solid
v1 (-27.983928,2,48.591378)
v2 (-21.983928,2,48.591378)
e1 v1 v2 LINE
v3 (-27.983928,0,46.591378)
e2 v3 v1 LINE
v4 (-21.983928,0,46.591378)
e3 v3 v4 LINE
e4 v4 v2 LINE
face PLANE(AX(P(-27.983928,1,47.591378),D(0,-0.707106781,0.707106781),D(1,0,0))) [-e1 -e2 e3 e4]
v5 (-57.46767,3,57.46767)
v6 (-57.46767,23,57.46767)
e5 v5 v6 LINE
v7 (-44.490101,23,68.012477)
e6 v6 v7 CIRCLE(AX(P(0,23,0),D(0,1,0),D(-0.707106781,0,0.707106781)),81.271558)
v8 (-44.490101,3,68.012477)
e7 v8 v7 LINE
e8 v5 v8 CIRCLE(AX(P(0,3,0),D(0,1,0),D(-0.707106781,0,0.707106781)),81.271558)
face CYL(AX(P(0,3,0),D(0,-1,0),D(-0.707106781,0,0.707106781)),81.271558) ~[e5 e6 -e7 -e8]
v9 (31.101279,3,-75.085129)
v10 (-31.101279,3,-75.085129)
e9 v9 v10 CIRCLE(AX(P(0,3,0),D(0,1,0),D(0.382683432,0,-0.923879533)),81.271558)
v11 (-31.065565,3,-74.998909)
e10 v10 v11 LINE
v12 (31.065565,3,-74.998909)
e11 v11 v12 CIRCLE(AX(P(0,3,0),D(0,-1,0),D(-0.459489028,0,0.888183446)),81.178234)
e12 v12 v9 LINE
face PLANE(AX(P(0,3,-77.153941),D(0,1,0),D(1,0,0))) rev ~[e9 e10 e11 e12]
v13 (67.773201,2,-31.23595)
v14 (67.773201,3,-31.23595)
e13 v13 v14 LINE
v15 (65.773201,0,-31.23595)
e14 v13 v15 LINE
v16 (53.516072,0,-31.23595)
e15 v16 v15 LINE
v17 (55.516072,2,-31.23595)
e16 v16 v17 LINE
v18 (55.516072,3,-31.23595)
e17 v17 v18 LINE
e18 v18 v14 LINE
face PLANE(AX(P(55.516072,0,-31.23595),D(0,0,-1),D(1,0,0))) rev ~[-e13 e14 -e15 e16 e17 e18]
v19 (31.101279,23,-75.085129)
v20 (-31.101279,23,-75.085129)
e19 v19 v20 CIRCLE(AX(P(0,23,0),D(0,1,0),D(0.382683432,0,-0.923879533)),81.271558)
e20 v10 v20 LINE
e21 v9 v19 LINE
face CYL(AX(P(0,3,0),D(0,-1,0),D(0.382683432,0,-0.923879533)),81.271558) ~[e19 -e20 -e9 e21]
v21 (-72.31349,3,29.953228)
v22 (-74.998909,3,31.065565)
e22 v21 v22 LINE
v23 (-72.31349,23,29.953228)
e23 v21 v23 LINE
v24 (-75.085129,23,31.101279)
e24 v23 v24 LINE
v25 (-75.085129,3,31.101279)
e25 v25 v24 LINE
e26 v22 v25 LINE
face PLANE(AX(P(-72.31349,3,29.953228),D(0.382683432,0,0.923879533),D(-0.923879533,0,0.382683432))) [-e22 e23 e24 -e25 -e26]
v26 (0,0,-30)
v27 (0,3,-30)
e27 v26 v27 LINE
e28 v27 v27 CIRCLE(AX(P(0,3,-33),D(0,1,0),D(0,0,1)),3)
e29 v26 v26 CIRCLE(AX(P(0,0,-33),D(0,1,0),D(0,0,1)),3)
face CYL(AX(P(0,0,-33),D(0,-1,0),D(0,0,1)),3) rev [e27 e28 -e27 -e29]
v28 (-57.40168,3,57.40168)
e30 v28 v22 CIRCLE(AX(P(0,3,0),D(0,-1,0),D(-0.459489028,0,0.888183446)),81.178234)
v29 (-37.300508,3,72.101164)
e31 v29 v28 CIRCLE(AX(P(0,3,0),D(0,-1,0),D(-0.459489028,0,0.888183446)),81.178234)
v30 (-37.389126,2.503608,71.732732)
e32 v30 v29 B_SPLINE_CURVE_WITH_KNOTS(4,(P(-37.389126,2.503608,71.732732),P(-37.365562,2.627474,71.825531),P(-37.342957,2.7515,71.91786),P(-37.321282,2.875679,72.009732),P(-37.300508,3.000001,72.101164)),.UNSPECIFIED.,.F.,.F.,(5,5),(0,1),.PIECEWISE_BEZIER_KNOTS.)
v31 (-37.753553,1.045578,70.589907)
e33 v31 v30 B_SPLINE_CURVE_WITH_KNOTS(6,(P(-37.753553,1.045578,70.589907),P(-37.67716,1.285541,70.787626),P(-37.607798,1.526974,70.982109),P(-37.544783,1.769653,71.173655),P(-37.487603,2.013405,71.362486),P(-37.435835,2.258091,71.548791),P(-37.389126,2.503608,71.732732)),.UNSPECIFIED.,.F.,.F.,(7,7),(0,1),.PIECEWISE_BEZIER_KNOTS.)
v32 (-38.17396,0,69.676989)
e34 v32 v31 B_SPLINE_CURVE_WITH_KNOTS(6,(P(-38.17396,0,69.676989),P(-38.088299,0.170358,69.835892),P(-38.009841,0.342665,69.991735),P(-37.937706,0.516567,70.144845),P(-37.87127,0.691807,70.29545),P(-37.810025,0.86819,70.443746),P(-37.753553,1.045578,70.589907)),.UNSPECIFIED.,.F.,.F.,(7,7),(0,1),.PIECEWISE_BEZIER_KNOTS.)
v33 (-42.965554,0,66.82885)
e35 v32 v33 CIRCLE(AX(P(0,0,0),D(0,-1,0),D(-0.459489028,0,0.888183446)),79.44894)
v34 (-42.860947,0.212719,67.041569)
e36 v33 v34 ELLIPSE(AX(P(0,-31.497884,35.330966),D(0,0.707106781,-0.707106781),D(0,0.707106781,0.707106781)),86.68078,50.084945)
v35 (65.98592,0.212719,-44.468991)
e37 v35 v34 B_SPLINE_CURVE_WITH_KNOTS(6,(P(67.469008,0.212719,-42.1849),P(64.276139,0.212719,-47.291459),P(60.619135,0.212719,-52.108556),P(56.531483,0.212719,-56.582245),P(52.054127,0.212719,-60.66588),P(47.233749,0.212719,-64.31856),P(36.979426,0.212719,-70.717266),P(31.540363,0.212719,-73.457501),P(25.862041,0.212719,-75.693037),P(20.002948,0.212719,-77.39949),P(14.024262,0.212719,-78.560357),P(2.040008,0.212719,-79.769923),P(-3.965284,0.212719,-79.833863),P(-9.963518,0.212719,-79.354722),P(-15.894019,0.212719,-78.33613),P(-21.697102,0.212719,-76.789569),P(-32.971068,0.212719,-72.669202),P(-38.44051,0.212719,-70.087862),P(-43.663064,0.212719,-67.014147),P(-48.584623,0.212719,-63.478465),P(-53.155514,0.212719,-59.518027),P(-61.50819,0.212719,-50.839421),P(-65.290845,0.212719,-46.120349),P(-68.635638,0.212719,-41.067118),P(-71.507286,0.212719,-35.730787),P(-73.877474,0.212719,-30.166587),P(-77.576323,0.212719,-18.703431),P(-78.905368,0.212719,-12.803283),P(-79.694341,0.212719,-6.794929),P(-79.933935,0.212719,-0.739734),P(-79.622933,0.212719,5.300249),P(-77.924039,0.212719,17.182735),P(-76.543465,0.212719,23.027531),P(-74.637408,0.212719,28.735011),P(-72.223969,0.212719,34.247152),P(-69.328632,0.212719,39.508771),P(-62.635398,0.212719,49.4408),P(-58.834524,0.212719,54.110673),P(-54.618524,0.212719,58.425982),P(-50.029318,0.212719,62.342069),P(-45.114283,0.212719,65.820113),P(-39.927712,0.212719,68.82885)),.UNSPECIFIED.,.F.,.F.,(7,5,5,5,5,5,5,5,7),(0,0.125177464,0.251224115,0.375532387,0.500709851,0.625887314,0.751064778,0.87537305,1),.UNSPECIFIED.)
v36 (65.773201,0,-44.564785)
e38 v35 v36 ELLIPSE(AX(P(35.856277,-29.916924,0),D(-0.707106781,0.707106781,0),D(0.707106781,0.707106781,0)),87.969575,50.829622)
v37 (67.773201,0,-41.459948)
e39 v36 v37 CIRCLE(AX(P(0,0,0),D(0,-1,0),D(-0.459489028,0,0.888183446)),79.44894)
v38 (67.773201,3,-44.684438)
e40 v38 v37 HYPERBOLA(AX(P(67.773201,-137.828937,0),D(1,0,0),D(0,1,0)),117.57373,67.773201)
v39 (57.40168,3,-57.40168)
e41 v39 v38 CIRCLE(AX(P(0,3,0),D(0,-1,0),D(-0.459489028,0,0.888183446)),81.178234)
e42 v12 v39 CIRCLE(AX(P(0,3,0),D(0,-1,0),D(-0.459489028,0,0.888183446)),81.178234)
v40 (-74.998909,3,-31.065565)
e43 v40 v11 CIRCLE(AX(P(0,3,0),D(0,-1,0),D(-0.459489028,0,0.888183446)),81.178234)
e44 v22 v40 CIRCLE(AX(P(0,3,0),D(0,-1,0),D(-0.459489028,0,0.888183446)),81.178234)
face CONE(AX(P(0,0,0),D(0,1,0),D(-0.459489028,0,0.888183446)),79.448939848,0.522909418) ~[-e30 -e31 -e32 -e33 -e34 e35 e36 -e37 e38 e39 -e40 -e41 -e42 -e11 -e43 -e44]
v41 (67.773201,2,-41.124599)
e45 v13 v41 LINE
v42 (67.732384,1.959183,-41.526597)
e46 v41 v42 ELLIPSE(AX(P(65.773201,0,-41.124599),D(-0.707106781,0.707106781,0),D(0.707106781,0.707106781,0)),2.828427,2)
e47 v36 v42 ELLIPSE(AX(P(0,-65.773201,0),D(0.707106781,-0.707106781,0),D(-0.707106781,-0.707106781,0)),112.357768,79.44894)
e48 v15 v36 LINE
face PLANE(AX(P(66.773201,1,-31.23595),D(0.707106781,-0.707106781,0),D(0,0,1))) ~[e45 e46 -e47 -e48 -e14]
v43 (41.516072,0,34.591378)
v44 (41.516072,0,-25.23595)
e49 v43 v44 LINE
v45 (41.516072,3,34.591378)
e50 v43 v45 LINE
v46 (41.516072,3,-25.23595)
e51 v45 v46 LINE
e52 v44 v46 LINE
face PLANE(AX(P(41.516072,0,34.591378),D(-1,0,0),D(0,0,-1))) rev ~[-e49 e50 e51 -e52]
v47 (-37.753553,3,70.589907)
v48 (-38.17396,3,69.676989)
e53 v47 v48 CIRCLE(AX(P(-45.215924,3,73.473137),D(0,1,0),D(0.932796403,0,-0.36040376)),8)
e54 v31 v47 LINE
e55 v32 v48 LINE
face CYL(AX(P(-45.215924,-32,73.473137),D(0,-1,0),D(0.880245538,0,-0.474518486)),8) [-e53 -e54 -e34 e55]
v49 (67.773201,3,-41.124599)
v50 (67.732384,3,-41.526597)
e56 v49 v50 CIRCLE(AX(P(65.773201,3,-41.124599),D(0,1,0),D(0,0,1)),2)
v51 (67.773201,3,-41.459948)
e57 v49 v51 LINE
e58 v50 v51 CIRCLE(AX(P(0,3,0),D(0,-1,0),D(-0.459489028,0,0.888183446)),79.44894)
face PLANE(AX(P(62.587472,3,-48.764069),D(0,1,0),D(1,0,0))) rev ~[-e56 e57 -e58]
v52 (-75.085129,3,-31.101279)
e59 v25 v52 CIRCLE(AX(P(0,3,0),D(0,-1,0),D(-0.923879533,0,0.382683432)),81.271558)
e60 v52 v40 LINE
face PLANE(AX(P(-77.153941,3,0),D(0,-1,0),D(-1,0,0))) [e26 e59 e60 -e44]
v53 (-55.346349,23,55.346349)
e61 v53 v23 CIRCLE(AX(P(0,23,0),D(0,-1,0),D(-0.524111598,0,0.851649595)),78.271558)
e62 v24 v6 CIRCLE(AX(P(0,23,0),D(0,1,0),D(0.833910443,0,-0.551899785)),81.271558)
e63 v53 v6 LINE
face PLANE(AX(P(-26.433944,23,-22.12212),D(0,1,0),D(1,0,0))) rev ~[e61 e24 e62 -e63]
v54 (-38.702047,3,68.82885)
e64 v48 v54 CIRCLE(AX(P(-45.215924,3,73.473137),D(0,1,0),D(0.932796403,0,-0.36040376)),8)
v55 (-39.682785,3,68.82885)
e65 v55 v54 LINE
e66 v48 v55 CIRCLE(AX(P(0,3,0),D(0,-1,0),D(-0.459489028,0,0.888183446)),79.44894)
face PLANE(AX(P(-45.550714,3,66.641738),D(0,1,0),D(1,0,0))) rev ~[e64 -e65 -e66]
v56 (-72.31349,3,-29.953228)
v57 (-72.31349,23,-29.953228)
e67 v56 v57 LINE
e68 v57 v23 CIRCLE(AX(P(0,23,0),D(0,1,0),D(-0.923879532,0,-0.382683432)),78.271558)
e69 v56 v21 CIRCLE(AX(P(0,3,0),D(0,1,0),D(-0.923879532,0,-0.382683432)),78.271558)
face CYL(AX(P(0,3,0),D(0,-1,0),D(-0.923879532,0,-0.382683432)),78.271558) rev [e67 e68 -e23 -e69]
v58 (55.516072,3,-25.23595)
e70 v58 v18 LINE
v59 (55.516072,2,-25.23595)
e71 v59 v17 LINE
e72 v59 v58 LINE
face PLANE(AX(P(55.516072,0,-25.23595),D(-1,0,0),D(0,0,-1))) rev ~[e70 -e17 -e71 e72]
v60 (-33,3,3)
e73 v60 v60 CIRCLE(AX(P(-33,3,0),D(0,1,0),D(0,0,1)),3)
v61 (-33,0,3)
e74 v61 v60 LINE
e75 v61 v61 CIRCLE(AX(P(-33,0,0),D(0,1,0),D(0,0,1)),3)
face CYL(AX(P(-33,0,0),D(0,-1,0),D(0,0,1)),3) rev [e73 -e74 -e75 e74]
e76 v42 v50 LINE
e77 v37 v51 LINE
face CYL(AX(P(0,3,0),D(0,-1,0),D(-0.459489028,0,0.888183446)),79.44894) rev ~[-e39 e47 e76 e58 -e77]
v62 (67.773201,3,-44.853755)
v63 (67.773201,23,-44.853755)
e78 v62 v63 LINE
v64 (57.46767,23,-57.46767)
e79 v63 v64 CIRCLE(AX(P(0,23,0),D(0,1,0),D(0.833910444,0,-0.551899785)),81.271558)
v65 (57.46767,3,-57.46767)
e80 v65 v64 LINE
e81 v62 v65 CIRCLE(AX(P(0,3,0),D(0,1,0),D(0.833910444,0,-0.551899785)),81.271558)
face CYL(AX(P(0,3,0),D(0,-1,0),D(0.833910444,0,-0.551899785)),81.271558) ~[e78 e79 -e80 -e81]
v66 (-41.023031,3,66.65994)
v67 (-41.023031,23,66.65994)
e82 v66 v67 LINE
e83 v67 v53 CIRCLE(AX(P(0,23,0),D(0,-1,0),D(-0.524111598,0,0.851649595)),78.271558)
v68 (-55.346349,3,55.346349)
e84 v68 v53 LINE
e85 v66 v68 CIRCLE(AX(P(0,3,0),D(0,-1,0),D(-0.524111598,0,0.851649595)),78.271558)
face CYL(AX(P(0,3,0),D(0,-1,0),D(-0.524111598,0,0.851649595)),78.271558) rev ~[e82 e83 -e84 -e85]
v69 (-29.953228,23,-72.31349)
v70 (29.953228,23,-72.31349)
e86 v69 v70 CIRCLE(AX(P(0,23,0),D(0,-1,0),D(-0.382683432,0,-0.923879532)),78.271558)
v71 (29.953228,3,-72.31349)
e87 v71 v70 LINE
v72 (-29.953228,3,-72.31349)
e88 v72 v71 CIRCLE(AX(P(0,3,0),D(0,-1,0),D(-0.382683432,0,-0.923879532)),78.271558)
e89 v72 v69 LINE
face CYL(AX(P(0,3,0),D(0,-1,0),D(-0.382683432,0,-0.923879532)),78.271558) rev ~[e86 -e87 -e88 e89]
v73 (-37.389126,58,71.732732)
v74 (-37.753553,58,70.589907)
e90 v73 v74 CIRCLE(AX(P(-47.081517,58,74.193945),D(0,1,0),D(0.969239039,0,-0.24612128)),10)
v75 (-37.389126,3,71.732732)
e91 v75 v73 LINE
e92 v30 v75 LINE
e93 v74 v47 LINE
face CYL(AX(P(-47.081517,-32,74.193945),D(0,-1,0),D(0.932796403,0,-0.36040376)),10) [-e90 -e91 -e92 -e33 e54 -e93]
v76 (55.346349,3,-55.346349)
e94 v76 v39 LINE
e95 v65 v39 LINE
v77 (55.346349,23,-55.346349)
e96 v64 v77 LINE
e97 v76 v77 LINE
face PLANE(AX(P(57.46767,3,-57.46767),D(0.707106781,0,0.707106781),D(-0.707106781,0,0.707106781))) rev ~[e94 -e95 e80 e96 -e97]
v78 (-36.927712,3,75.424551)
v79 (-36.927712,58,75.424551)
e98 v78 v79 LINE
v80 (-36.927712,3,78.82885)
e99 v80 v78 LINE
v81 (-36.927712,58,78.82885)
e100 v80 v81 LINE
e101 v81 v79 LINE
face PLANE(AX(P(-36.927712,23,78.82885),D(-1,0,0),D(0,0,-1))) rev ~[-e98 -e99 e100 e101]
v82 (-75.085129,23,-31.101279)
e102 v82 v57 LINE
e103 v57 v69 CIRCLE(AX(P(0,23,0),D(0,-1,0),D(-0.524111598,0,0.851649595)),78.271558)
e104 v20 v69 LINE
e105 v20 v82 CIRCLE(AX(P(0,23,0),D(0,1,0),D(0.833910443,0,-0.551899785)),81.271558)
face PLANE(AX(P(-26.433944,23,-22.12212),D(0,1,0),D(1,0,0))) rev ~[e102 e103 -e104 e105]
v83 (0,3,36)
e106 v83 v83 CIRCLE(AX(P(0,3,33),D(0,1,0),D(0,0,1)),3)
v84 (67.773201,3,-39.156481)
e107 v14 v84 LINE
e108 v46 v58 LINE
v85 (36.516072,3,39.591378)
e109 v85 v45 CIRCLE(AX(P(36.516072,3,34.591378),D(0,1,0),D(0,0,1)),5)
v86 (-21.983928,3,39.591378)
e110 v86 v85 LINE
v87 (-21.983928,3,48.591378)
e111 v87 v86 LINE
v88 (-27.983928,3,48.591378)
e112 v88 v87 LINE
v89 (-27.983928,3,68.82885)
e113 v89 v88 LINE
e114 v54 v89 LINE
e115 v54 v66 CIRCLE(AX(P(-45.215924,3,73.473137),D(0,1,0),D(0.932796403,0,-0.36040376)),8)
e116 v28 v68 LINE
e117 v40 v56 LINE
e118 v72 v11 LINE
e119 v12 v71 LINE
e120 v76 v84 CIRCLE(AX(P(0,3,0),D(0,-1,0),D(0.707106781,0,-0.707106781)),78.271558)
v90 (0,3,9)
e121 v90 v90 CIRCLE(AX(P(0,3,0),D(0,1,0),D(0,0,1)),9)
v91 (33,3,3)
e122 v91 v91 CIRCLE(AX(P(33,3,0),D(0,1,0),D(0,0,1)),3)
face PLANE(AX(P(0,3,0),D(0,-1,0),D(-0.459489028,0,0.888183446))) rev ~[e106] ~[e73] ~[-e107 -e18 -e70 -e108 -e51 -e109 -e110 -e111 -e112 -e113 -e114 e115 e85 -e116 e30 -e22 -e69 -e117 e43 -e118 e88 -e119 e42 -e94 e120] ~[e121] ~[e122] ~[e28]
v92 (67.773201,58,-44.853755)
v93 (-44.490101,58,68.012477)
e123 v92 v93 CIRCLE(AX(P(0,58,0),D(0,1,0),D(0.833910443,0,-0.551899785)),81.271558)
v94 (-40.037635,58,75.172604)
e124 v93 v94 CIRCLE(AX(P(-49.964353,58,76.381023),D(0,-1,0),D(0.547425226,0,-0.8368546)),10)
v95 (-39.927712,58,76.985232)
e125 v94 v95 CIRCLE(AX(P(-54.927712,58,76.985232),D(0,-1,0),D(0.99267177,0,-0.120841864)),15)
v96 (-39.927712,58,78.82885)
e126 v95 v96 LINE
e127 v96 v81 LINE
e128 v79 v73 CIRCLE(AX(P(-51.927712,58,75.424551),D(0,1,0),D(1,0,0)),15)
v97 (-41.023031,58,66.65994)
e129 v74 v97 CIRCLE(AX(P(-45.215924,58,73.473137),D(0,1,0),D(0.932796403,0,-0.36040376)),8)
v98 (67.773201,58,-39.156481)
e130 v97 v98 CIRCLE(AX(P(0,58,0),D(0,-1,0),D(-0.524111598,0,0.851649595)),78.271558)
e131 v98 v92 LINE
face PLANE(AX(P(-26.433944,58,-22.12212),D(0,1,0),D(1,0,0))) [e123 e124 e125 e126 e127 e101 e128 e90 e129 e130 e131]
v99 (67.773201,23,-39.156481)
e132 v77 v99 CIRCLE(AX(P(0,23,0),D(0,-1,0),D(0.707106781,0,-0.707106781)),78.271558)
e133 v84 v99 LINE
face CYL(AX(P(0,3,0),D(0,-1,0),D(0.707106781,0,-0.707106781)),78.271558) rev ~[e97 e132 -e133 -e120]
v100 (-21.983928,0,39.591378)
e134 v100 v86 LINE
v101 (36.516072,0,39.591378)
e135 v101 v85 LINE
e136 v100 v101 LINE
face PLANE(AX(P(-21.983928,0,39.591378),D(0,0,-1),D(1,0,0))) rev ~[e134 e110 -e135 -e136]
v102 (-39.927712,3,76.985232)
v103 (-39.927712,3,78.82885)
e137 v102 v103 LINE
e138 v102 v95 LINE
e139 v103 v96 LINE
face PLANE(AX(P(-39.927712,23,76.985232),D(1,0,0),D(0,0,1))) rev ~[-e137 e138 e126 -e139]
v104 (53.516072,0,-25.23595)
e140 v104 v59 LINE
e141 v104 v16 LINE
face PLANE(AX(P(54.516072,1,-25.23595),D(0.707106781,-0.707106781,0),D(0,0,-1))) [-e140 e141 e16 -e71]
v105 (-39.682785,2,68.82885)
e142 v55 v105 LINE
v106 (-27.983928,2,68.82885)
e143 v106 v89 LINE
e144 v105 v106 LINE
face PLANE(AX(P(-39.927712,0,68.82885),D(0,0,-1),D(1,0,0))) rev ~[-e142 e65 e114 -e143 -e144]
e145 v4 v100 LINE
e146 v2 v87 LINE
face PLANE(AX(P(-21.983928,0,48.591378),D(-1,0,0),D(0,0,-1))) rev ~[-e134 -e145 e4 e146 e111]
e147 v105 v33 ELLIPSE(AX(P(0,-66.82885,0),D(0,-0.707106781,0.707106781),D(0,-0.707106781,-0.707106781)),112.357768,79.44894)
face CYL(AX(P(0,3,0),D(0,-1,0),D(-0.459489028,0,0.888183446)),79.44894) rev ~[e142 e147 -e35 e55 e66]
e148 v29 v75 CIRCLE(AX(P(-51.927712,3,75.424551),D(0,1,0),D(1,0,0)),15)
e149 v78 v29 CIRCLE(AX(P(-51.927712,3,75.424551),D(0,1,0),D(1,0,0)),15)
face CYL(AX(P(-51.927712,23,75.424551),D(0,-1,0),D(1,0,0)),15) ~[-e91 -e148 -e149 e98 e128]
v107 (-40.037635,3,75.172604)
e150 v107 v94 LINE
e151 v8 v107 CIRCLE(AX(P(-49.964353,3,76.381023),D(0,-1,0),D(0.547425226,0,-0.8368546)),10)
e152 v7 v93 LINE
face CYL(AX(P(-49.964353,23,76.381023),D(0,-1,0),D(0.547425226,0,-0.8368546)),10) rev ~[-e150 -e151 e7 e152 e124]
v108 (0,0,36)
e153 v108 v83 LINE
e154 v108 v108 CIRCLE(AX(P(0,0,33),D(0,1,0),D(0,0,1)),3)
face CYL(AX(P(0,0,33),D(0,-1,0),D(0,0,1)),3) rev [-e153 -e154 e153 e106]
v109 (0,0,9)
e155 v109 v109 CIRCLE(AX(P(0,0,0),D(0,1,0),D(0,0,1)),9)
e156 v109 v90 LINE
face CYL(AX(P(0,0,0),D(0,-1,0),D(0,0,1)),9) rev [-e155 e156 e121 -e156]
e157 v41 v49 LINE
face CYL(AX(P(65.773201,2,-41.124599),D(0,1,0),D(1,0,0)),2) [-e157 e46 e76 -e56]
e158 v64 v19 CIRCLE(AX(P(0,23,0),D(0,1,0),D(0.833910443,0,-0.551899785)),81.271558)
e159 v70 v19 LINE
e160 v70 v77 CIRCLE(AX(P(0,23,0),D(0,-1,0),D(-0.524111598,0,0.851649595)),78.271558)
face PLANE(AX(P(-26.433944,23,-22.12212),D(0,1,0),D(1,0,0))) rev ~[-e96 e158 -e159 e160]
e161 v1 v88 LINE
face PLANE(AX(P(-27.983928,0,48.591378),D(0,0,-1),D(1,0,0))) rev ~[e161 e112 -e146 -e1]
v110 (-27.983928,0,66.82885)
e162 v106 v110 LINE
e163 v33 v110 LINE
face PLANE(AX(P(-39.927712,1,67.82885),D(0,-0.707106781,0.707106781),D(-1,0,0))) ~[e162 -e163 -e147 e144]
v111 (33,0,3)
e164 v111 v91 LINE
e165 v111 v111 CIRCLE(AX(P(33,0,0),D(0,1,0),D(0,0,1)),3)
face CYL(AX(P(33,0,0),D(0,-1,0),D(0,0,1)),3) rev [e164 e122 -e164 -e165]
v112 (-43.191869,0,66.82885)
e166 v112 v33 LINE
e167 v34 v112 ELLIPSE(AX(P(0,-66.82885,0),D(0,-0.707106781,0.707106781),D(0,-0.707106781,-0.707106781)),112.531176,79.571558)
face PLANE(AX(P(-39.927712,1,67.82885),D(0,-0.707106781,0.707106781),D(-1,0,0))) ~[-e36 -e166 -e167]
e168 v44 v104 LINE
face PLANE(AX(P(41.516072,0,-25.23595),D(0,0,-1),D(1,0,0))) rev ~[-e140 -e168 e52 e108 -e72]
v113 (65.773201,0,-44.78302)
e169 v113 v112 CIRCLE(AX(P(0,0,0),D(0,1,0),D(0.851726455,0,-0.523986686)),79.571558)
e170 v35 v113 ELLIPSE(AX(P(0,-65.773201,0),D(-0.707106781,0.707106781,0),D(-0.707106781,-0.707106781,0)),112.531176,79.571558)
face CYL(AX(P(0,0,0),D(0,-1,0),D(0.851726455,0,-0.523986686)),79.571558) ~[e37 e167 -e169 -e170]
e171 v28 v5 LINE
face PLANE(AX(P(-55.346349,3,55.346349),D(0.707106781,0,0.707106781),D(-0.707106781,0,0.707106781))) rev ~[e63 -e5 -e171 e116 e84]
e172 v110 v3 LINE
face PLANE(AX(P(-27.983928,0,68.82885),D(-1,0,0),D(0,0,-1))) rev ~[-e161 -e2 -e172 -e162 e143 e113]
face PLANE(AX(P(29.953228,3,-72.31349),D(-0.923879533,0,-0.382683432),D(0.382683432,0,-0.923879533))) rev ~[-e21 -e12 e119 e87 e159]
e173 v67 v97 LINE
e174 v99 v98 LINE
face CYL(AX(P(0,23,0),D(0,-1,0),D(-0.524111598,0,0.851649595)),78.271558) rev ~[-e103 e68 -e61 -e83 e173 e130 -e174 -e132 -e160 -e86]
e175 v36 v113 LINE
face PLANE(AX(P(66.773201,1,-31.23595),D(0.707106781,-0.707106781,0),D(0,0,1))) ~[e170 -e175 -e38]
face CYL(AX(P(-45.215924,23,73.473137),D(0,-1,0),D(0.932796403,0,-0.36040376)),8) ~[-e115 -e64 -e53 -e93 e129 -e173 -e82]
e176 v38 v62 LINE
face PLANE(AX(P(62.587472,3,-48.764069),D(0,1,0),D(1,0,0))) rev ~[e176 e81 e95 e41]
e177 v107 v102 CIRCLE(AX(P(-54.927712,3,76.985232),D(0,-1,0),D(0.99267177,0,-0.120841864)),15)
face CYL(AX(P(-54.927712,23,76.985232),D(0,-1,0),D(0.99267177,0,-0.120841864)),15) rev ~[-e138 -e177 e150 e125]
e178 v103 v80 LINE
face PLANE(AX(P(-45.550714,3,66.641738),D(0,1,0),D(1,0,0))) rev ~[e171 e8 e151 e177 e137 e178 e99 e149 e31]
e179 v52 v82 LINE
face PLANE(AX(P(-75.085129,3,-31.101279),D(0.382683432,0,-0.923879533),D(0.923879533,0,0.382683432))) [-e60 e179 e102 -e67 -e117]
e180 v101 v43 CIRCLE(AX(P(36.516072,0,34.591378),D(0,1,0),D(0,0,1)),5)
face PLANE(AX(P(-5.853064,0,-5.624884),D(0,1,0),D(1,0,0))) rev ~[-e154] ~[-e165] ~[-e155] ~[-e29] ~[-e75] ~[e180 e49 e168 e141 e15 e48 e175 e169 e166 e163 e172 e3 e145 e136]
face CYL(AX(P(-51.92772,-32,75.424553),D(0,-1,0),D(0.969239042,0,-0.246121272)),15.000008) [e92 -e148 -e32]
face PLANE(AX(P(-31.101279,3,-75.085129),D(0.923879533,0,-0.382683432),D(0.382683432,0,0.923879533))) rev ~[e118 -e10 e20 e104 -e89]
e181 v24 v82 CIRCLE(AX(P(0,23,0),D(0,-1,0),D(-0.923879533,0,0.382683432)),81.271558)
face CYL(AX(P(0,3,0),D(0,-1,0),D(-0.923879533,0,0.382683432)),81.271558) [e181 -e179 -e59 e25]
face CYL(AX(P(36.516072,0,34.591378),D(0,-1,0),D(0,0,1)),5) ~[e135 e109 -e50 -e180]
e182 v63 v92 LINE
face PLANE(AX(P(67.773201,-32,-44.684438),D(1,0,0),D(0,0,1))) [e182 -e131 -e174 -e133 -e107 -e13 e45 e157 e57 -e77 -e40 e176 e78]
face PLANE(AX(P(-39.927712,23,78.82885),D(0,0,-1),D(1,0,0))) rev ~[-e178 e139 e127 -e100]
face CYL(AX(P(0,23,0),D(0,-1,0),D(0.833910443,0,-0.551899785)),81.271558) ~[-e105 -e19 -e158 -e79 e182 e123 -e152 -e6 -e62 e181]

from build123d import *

# Parameters (mm, degrees)
SKETCH1_R           = 9
SKETCH1_R_2         = 3
BOSS_EXTRUDE1_DEPTH = 3
BOSS_EXTRUDE5_DEPTH = 20
CHAMFER1_SIZE       = 2
CHAMFER2_SIZE       = 2
CHAMFER3_SIZE       = 2
CHAMFER4_SIZE       = 2
FILLET3_R           = 2
BOSS_EXTRUDE6_DEPTH = 35
CUT_EXTRUDE1_START  = -35
CUT_EXTRUDE1_DEPTH  = 35


with BuildPart() as part:
    # Sketch1 → Boss-Extrude1 (new body)
    with BuildSketch(Plane(origin=(0, 0, 0), x_dir=(1, 0, 0), z_dir=(0, 1, 0))):
        with BuildLine():
            Line((26.016071882, -39.591378024), (36.516071882, -39.591378024))
            ThreePointArc((36.516071882, -39.591378024), (40.051605788, -38.12691193), (41.516071882, -34.591378024))
            Line((41.516071882, -34.591378024), (41.516071882, -22.764050167))
            Line((41.516071882, -22.764050167), (41.516071882, 25.235949833))
            Line((41.516071882, 25.235949833), (55.516071882, 25.235949833))
            Line((55.516071882, 25.235949833), (55.516071882, 31.235949833))
            Line((55.516071882, 31.235949833), (67.773200773, 31.235949833))
            Line((67.773200773, 31.235949833), (67.773200773, 41.69443681))
            ThreePointArc((67.773200773, 41.69443681), (-56.98852563, 55.53324005), (-39.927712001, -68.828850188))
            Line((-39.927712001, -68.828850188), (-27.983928118, -68.828850188))
            Line((-27.983928118, -68.828850188), (-27.983928118, -48.591378024))
            Line((-27.983928118, -48.591378024), (-21.983928118, -48.591378024))
            Line((-21.983928118, -48.591378024), (-21.983928118, -39.591378024))
            Line((-21.983928118, -39.591378024), (26.016071882, -39.591378024))
        make_face()
        with Locations(Location((0, 0, 0), (0, 0, 270))):
            Circle(SKETCH1_R, mode=Mode.SUBTRACT)
        with Locations(Location((33, 0, 0), (0, 0, 270))):
            Circle(SKETCH1_R_2, mode=Mode.SUBTRACT)
        with Locations(Location((0, -33, 0), (0, 0, 270))):
            Circle(SKETCH1_R_2, mode=Mode.SUBTRACT)
        with Locations(Location((-33, 0, 0), (0, 0, 270))):
            Circle(SKETCH1_R_2, mode=Mode.SUBTRACT)
        with Locations(Location((0, 33, 0), (0, 0, 270))):
            Circle(SKETCH1_R_2, mode=Mode.SUBTRACT)
    extrude(amount=BOSS_EXTRUDE1_DEPTH)

    # Sketch2 → Boss-Extrude5 (add)
    with BuildSketch(Plane(origin=(0, 3, 0), x_dir=(1, 0, 0), z_dir=(0, 1, 0))):
        with BuildLine():
            Line((67.773200773, 39.156481082), (67.773200773, 44.853755219))
            ThreePointArc((67.773200773, 44.853755219), (62.937243445, 51.419543831), (57.467669607, 57.467669607))
            Line((57.467669607, 57.467669607), (55.346349264, 55.346349264))
            ThreePointArc((55.346349264, 55.346349264), (62.089724256, 47.658188126), (67.773200773, 39.156481082))
        make_face()
        with BuildLine():
            Line((-39.927712001, -76.985232291), (-39.927712001, -78.828850188))
            Line((-39.927712001, -78.828850188), (-36.927712001, -78.828850188))
            Line((-36.927712001, -78.828850188), (-36.927712001, -75.424551151))
            ThreePointArc((-36.927712001, -75.424551151), (-37.043512595, -73.56428019), (-37.389126407, -71.732731959))
            ThreePointArc((-37.389126407, -71.732731959), (-37.554188596, -71.15585041), (-37.753552772, -70.589907151))
            ThreePointArc((-37.753552772, -70.589907151), (-39.065927712, -68.356737552), (-41.023031213, -66.659940472))
            ThreePointArc((-41.023031213, -66.659940472), (-48.515602747, -61.422089217), (-55.346349264, -55.346349264))
            Line((-55.346349264, -55.346349264), (-57.467669607, -57.467669607))
            ThreePointArc((-57.467669607, -57.467669607), (-51.250804692, -63.074726465), (-44.490100887, -68.012476968))
            ThreePointArc((-44.490100887, -68.012476968), (-41.472337786, -71.100334086), (-40.037635444, -75.172604325))
            ThreePointArc((-40.037635444, -75.172604325), (-39.955218081, -76.077253312), (-39.927712001, -76.985232291))
        make_face()
        with BuildLine():
            Line((29.953228379, 72.313490189), (31.101278676, 75.085128787))
            ThreePointArc((31.101278676, 75.085128787), (0, 81.271557757), (-31.101278676, 75.085128787))
            Line((-31.101278676, 75.085128787), (-29.953228379, 72.313490189))
            ThreePointArc((-29.953228379, 72.313490189), (0, 78.271557757), (29.953228379, 72.313490189))
        make_face()
        with BuildLine():
            Line((-72.313490189, -29.953228379), (-75.085128787, -31.101278676))
            ThreePointArc((-75.085128787, -31.101278676), (-81.271557757, 0), (-75.085128787, 31.101278676))
            Line((-75.085128787, 31.101278676), (-72.313490189, 29.953228379))
            ThreePointArc((-72.313490189, 29.953228379), (-78.271557757, 0), (-72.313490189, -29.953228379))
        make_face()
    extrude(amount=BOSS_EXTRUDE5_DEPTH)

    # Chamfer1
    chamfer1_edges = [part.edges().sort_by_distance(p)[0] for p in [
        (67.773200773, 0, -36.465193321),
    ]]
    chamfer(chamfer1_edges, length=CHAMFER1_SIZE)

    # Chamfer2
    chamfer2_edges = [part.edges().sort_by_distance(p)[0] for p in [
        (55.516071882, 0, -28.235949833),
    ]]
    chamfer(chamfer2_edges, length=CHAMFER2_SIZE)

    # Chamfer3
    chamfer3_edges = [part.edges().sort_by_distance(p)[0] for p in [
        (-33.955820059, 0, 68.828850188),
    ]]
    chamfer(chamfer3_edges, length=CHAMFER3_SIZE)

    # Chamfer4
    chamfer4_edges = [part.edges().sort_by_distance(p)[0] for p in [
        (-24.983928118, 0, 48.591378024),
    ]]
    chamfer(chamfer4_edges, length=CHAMFER4_SIZE)

    # Fillet3
    fillet3_edges = [part.edges().sort_by_distance(p)[0] for p in [
        (67.773200773, 2.5, -41.69443681),
    ]]
    fillet(fillet3_edges, radius=FILLET3_R)

    # Sketch3 → Boss-Extrude6 (add)
    with BuildSketch(Plane(origin=(0, 23, 0), x_dir=(1, 0, 0), z_dir=(0, 1, 0))):
        with BuildLine():
            Line((67.773200773, 39.156481082), (67.773200773, 44.853755219))
            ThreePointArc((67.773200773, 44.853755219), (-57.621369969, 57.313557062), (-44.490100887, -68.012476968))
            ThreePointArc((-44.490100887, -68.012476968), (-41.472337786, -71.100334086), (-40.037635444, -75.172604325))
            ThreePointArc((-40.037635444, -75.172604325), (-39.955218081, -76.077253312), (-39.927712001, -76.985232291))
            Line((-39.927712001, -76.985232291), (-39.927712001, -78.828850188))
            Line((-39.927712001, -78.828850188), (-36.927712001, -78.828850188))
            Line((-36.927712001, -78.828850188), (-36.927712001, -75.424551151))
            ThreePointArc((-36.927712001, -75.424551151), (-37.043512595, -73.56428019), (-37.389126407, -71.732731959))
            ThreePointArc((-37.389126407, -71.732731959), (-37.554188596, -71.15585041), (-37.753552772, -70.589907151))
            ThreePointArc((-37.753552772, -70.589907151), (-39.065927712, -68.356737552), (-41.023031213, -66.659940472))
            ThreePointArc((-41.023031213, -66.659940472), (-54.572627392, 56.109402894), (67.773200773, 39.156481082))
        make_face()
    extrude(amount=BOSS_EXTRUDE6_DEPTH)

    # Sketch4 → Revolve1 (revolve)
    with BuildSketch(Plane(origin=(0, 0, 0), x_dir=(0, 0, -1), z_dir=(1, 0, 0)), mode=Mode.PRIVATE) as revolve1_sk:
        Polygon((79.448939848, 0), (81.178234321, 3), (79.448939848, 3), align=None)
    revolve(revolve1_sk.sketch.rotate(Axis((0, 0, 0), (0, -1, 0)), 207.35414034), axis=Axis((0, 0, 0), (0, -1, 0)))

    # Sketch5 → Cut-Extrude1 (cut)
    with BuildSketch(Plane(origin=(0, 3, 0), x_dir=(1, 0, 0), z_dir=(0, 1, 0)).offset(CUT_EXTRUDE1_START)):
        with BuildLine():
            Line((67.773200773, 44.684437834), (67.773200773, 41.459948143))
            ThreePointArc((67.773200773, 41.459948143), (57.505508315, -54.8201656), (-38.173959697, -69.676989344))
            ThreePointArc((-38.173959697, -69.676989344), (-37.949405437, -70.126839575), (-37.753552772, -70.589907151))
            ThreePointArc((-37.753552772, -70.589907151), (-37.554188596, -71.15585041), (-37.389126407, -71.732731959))
            ThreePointArc((-37.389126407, -71.732731959), (-37.343653711, -71.916668059), (-37.300507998, -72.101163864))
            ThreePointArc((-37.300507998, -72.101163864), (60.347870238, -54.295858822), (67.773200773, 44.684437834))
        make_face()
    extrude(amount=CUT_EXTRUDE1_DEPTH, mode=Mode.SUBTRACT)


solid = part.part
